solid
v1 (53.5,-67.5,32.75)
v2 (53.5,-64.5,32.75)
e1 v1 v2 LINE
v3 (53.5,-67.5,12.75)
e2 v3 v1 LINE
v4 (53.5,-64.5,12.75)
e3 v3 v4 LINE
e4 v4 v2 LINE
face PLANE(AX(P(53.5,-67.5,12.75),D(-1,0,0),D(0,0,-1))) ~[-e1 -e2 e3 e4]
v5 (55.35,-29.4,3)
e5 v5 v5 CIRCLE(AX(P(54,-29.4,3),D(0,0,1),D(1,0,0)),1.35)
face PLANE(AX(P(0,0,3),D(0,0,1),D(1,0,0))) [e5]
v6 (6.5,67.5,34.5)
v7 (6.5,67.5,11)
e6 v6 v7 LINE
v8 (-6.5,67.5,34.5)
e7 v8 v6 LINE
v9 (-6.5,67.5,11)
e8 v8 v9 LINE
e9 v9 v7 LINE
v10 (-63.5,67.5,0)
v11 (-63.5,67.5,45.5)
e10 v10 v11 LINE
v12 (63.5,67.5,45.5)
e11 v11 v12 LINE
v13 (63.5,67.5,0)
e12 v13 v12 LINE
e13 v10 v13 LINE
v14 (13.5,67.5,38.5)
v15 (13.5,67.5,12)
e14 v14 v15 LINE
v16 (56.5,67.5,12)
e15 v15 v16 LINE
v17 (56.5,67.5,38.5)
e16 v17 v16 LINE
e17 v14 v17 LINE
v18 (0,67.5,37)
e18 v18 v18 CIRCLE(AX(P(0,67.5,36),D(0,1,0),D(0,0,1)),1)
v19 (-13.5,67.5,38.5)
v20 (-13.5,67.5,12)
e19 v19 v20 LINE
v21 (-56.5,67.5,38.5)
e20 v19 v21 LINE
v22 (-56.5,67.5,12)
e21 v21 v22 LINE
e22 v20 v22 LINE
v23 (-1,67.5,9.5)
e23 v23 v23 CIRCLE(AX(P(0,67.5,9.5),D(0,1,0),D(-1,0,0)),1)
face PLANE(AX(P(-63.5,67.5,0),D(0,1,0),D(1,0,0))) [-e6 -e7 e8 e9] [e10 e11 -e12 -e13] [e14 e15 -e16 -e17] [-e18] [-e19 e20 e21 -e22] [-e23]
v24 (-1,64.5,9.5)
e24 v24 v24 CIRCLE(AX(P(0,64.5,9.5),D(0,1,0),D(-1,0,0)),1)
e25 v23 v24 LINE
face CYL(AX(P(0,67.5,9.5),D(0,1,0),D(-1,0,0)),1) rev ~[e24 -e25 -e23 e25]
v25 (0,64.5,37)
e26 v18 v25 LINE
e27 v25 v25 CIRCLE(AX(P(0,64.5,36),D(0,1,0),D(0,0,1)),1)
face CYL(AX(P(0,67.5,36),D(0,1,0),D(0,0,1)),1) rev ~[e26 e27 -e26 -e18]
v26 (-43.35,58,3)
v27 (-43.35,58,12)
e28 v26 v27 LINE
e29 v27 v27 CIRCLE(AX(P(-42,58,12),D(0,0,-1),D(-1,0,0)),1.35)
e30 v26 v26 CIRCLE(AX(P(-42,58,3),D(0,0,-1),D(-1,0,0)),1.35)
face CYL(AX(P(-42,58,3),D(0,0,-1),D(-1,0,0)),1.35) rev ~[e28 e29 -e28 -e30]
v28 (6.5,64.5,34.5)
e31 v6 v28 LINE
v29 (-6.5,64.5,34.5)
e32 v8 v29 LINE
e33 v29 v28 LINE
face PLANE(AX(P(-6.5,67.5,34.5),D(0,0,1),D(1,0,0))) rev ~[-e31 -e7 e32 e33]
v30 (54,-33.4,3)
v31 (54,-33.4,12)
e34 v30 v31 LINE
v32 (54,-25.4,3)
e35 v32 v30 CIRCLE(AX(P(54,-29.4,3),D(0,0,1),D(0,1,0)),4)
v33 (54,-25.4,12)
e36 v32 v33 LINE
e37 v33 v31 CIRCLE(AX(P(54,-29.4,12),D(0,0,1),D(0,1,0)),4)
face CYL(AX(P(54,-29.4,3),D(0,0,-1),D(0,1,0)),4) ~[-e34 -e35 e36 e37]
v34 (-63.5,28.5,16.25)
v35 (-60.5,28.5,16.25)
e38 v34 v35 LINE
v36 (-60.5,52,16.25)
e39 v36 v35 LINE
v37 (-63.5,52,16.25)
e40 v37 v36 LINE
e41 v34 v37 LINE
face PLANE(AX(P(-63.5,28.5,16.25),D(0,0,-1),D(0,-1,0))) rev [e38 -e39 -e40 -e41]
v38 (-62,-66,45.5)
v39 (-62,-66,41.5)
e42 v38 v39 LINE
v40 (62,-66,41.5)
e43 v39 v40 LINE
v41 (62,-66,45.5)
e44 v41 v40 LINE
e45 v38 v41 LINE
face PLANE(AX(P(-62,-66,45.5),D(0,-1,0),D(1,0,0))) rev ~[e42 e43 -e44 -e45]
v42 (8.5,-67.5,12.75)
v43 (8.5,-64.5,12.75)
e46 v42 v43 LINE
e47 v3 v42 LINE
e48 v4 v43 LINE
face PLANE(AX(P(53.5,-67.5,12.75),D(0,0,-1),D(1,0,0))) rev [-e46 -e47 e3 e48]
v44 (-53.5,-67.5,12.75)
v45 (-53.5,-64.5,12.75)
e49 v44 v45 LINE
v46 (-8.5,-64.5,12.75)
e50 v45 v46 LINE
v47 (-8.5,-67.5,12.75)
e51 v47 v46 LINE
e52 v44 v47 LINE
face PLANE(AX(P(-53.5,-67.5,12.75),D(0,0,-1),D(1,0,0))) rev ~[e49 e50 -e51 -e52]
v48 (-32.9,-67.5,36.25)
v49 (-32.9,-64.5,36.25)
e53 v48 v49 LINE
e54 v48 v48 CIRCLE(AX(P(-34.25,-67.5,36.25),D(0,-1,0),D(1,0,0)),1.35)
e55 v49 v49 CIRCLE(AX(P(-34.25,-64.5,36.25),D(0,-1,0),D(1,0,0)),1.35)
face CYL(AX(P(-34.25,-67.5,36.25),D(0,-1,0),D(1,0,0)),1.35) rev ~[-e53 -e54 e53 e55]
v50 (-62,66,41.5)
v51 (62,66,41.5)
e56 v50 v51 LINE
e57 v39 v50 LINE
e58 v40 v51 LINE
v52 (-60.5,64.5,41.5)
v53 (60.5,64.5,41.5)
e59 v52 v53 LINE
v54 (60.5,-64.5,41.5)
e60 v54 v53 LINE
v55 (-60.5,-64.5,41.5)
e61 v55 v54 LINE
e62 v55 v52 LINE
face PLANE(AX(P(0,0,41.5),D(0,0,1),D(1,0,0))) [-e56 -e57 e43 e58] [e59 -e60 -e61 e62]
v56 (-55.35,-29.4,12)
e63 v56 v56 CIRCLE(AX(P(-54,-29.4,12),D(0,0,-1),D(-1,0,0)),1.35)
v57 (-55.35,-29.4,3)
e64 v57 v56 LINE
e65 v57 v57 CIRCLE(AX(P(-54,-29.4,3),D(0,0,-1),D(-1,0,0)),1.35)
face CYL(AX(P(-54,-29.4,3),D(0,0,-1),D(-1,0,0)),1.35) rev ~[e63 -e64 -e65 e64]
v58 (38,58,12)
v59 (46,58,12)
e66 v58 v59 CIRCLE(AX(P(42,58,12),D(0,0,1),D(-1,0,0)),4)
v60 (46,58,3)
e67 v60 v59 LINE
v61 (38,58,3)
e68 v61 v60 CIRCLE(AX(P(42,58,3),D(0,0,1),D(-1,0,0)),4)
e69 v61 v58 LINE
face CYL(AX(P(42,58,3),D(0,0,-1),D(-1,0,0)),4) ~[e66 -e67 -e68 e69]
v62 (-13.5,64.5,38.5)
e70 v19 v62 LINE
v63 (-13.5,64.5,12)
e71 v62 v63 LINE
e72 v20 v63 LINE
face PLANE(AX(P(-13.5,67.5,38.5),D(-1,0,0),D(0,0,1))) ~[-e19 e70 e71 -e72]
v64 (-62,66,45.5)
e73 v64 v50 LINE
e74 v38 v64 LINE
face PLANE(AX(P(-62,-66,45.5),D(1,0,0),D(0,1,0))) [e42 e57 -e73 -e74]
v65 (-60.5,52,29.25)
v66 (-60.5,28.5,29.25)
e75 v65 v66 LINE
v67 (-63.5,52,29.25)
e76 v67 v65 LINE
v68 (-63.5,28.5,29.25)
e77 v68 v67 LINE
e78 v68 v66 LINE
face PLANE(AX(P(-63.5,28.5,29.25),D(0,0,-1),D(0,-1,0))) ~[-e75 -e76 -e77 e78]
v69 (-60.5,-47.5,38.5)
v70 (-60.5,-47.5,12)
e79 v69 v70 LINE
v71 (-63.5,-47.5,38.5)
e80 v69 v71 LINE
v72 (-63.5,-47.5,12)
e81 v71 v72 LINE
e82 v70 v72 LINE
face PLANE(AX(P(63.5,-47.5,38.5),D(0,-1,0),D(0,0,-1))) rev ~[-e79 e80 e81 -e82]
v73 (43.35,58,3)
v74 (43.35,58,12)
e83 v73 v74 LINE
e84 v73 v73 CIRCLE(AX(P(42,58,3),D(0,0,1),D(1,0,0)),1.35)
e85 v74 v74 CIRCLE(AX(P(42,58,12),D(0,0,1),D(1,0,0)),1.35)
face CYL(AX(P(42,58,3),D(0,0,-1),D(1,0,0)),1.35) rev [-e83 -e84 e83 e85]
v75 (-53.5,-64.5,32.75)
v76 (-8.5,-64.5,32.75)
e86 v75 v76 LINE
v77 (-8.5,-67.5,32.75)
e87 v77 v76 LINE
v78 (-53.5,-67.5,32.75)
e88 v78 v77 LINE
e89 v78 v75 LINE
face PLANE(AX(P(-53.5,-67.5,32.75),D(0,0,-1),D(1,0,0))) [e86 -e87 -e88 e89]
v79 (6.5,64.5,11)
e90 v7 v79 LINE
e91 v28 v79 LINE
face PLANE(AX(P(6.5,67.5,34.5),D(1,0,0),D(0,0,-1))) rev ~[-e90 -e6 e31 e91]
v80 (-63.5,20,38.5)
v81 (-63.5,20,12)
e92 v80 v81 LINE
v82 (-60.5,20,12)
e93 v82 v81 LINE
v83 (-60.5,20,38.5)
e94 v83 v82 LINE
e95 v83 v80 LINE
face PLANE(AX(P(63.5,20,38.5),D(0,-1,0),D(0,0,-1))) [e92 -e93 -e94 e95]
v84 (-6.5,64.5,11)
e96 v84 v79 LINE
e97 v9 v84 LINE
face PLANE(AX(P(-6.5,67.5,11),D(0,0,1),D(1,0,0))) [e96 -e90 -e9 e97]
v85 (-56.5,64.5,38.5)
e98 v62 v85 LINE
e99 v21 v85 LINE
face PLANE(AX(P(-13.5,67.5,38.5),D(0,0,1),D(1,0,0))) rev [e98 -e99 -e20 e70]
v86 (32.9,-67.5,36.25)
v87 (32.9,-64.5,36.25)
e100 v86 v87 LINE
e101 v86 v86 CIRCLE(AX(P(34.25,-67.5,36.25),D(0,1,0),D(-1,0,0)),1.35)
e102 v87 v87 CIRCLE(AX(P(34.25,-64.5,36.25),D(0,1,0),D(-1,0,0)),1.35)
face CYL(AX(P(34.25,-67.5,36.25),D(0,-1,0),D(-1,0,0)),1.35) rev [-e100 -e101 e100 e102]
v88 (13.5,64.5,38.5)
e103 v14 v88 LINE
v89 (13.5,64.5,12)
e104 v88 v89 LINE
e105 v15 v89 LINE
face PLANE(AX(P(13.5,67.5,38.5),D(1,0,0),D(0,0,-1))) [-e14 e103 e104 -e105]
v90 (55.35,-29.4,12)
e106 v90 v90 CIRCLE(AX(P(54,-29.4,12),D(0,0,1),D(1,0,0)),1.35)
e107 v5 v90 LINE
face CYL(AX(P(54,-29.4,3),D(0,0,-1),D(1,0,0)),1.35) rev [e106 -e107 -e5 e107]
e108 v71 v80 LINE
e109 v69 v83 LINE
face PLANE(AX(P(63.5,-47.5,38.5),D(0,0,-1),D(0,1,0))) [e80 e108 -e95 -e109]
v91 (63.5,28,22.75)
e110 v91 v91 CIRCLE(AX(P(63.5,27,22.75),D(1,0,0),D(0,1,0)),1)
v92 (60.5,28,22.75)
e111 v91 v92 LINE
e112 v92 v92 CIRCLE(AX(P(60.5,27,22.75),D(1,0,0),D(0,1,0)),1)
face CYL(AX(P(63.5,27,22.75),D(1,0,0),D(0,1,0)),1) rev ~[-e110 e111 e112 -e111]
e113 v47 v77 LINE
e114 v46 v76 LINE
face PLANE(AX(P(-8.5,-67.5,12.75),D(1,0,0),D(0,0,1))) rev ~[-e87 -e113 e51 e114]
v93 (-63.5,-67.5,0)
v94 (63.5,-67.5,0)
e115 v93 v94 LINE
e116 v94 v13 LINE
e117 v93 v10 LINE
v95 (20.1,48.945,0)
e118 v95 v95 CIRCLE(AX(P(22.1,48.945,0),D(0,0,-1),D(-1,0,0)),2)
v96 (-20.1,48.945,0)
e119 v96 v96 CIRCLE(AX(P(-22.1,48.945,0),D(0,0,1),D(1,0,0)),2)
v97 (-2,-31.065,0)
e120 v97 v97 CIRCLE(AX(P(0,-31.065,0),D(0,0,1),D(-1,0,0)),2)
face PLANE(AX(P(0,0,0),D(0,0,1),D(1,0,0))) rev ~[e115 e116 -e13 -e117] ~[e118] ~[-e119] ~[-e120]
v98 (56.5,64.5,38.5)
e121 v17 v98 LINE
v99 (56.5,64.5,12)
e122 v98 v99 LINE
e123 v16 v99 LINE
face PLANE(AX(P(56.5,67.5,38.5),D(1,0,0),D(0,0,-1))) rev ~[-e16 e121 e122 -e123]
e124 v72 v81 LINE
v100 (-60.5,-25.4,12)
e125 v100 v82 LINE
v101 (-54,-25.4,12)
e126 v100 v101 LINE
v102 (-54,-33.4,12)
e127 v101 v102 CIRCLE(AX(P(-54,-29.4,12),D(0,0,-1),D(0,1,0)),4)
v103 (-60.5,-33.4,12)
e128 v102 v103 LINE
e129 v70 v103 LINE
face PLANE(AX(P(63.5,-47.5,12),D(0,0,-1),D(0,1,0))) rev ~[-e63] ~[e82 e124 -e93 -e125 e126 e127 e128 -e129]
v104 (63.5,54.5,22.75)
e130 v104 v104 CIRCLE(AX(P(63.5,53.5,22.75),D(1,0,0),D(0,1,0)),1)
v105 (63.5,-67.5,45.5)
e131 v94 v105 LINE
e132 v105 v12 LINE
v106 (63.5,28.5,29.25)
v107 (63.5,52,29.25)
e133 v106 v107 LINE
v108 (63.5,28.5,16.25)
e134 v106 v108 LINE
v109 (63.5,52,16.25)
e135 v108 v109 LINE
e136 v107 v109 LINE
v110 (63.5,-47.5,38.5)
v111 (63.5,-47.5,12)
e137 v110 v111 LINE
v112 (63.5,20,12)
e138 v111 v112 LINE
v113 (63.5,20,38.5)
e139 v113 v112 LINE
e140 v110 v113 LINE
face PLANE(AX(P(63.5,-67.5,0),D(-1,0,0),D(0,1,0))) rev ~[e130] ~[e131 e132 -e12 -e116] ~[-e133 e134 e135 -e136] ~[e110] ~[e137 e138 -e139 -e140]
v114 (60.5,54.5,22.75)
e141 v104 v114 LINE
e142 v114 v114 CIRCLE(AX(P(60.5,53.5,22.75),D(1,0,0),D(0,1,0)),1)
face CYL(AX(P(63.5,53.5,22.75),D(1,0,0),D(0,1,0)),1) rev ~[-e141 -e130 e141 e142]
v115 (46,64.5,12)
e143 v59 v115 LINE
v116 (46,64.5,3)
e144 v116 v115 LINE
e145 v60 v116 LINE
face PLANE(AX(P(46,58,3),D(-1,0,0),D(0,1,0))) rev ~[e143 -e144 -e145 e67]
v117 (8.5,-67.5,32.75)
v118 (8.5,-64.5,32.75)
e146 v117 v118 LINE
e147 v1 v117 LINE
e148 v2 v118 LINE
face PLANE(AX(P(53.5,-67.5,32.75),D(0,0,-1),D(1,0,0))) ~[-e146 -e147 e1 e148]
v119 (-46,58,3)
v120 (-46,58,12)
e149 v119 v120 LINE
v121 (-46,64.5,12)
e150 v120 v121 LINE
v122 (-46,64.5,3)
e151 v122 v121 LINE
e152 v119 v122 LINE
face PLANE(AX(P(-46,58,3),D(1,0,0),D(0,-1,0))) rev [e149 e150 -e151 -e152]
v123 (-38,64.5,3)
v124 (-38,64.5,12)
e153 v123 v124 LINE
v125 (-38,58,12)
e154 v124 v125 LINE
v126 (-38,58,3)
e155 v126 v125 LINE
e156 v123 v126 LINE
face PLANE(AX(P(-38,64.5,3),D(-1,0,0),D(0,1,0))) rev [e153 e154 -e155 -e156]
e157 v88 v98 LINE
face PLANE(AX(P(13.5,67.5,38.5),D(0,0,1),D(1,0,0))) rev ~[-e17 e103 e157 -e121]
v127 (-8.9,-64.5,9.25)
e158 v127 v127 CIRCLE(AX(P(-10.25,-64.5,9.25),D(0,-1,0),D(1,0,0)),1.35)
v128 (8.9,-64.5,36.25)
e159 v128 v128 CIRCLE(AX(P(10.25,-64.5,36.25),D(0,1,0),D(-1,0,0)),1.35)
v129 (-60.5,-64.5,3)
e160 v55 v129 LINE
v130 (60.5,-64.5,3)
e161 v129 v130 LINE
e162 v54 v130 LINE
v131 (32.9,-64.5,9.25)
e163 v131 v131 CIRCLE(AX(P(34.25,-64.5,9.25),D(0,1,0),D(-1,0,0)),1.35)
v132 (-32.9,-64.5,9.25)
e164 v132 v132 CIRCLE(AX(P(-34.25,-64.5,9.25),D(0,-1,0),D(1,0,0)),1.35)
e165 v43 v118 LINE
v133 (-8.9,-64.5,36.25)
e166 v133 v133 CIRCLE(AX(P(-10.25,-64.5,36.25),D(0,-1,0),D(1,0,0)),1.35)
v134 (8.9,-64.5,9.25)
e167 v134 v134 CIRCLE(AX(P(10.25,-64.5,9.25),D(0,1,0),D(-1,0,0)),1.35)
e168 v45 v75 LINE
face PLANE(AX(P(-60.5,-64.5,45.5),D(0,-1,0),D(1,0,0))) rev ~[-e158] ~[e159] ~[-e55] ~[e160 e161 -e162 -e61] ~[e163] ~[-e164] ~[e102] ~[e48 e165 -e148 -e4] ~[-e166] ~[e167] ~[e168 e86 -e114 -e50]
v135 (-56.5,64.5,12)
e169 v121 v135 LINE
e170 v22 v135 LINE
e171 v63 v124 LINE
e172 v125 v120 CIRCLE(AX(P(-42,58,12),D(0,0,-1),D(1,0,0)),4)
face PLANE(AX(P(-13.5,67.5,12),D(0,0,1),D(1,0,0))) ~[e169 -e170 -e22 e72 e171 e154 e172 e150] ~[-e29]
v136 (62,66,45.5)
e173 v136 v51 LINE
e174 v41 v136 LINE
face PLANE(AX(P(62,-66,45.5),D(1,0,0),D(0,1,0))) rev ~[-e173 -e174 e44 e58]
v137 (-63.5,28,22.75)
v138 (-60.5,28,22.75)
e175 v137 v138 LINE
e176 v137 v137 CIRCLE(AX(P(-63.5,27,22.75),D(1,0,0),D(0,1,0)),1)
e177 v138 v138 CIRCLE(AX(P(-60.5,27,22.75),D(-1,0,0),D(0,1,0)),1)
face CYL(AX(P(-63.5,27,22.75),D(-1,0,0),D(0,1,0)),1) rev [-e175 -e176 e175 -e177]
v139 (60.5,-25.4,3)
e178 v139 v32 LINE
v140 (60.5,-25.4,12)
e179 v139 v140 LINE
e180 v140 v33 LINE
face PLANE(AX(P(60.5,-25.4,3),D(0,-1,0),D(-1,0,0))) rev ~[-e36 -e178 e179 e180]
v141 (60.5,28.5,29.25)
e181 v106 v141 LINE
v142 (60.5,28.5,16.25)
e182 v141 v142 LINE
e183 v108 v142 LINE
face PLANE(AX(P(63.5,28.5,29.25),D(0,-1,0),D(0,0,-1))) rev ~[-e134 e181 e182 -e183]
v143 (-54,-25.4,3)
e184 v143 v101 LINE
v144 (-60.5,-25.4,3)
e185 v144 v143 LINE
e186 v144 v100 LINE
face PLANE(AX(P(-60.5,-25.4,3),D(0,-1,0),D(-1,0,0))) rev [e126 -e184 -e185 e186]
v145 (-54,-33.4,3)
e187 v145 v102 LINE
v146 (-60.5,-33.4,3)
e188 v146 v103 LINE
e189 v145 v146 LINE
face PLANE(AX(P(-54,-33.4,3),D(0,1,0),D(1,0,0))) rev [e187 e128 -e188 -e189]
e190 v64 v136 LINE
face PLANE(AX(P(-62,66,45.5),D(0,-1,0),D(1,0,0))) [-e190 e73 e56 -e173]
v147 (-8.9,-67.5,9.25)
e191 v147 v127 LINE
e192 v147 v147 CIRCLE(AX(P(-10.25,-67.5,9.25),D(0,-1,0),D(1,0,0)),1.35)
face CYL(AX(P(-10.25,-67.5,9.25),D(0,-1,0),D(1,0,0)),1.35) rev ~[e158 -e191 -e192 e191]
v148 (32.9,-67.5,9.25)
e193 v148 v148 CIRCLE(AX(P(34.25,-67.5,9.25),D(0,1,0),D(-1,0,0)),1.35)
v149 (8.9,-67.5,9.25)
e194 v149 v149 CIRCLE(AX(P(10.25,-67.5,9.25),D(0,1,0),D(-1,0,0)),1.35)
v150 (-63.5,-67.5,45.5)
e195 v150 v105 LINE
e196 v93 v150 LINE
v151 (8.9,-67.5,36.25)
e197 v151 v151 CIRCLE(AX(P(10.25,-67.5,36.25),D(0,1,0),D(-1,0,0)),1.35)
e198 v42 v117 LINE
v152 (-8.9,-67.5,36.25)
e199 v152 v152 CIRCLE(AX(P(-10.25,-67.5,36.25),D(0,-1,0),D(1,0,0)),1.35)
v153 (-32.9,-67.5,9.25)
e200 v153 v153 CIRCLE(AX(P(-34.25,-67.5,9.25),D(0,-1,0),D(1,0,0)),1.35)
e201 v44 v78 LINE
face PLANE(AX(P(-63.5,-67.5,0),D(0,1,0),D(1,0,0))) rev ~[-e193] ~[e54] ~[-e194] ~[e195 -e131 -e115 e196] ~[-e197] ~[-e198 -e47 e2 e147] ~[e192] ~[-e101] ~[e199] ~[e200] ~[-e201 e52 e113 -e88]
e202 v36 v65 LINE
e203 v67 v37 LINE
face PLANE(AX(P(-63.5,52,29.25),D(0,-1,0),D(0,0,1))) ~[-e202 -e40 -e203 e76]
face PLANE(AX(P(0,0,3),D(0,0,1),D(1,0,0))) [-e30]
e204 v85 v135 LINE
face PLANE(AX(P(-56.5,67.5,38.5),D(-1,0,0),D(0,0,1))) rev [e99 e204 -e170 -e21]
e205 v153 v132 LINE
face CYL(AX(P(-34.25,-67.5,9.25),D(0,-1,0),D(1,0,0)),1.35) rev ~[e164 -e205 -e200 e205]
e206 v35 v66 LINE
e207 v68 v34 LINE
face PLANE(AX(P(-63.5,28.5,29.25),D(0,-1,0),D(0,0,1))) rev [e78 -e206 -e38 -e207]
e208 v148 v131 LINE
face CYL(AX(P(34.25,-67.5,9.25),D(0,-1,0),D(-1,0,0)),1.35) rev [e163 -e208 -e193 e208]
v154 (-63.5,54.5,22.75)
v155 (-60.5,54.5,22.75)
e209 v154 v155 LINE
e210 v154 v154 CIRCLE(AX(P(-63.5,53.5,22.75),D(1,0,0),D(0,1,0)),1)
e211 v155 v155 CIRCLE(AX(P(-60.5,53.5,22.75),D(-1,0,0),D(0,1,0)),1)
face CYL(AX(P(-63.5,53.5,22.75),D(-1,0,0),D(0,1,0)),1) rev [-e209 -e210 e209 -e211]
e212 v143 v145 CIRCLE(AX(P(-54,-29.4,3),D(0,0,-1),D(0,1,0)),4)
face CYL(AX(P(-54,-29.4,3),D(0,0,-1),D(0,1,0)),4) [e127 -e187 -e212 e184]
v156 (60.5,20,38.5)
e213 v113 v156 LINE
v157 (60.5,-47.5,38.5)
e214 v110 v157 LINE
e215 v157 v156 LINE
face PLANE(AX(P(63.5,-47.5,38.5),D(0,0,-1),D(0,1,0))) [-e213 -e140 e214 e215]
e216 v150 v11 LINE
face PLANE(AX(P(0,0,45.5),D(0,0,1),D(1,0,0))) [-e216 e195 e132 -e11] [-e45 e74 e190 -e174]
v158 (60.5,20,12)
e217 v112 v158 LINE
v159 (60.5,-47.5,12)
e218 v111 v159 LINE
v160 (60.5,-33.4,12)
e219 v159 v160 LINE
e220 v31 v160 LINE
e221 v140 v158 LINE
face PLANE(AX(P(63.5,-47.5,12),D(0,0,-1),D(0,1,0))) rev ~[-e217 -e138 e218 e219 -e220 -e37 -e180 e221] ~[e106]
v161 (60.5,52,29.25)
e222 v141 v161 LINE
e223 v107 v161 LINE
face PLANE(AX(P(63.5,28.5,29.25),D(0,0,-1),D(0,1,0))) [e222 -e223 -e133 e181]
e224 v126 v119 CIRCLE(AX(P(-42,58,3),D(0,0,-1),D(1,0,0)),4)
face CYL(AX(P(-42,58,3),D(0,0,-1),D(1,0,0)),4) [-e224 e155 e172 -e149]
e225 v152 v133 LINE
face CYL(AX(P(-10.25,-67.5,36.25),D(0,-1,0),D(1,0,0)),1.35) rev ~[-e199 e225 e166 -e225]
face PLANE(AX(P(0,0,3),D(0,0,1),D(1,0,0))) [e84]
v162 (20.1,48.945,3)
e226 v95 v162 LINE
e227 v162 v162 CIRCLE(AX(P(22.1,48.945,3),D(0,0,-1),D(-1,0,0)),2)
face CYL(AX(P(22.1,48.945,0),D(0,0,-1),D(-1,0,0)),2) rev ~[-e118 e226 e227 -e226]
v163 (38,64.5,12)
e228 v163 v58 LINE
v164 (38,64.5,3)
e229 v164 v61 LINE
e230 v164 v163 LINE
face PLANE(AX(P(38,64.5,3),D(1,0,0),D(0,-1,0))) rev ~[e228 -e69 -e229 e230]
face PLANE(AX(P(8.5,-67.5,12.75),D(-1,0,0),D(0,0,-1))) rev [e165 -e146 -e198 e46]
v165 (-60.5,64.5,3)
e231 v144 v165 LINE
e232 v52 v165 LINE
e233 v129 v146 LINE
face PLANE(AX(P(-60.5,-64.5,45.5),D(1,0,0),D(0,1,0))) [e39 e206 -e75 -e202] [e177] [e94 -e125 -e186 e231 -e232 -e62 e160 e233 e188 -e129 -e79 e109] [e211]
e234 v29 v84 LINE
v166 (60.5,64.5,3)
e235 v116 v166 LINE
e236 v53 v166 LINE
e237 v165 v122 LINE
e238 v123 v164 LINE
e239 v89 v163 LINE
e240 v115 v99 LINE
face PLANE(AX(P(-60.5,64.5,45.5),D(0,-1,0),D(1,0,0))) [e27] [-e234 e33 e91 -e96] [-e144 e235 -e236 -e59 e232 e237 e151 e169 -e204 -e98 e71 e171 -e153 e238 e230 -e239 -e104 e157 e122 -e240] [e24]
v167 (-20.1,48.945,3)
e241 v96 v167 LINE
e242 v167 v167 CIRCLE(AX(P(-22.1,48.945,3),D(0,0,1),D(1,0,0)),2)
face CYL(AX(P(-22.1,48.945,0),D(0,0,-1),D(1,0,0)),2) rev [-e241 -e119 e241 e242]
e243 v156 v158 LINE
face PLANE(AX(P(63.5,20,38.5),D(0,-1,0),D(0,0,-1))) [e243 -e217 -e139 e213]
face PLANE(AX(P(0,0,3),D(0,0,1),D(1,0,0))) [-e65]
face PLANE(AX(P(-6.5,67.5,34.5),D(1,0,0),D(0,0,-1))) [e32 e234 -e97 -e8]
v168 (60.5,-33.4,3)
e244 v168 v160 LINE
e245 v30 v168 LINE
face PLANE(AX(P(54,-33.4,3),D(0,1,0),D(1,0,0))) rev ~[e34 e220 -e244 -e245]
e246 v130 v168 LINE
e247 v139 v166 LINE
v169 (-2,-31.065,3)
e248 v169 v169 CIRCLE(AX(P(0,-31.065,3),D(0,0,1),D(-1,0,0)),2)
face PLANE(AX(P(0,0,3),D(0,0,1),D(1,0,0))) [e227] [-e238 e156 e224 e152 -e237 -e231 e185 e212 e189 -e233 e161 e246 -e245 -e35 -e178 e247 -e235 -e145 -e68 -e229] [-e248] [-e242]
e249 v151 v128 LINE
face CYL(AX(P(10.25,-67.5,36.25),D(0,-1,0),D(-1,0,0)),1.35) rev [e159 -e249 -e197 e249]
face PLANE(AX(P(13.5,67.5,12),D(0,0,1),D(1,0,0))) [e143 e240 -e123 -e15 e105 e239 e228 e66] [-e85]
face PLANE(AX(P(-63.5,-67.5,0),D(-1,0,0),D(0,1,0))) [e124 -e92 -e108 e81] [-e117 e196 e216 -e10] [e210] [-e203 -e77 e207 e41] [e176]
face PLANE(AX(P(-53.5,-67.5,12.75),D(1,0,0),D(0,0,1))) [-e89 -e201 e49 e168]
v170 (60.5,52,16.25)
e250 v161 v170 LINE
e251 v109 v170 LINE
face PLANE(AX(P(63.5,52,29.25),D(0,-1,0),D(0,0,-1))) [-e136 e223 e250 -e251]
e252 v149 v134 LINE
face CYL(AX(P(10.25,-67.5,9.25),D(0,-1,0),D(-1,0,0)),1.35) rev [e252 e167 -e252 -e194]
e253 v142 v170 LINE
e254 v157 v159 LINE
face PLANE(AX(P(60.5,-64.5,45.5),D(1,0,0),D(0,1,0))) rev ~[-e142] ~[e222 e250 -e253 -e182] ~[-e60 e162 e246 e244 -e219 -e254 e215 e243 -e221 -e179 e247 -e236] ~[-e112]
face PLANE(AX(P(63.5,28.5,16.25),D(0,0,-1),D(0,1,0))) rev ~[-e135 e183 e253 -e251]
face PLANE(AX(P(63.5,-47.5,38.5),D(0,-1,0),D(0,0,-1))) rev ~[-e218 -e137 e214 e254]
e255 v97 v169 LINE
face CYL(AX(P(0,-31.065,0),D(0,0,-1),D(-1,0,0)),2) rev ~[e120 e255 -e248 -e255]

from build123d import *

# Parameters (mm, degrees)
SKETCH1_W           = 127
SKETCH1_H           = 135
BOSS_EXTRUDE1_DEPTH = 45.5
SKETCH2_W           = 121
SKETCH2_H           = 129
CUT_EXTRUDE1_DEPTH  = 42.5
SKETCH2_3_W         = 124
SKETCH2_3_H         = 132
SKETCH2_3_W_2       = 121
SKETCH2_3_H_2       = 129
CUT_EXTRUDE2_DEPTH  = 4
SKETCH3_R           = 1.35
BOSS_EXTRUDE2_DEPTH = 9
SKETCH4_R           = 1.35
BOSS_EXTRUDE3_DEPTH = 9
SKETCH5_R           = 1
SKETCH5_W           = 13
SKETCH5_H           = 23.5
CUT_EXTRUDE5_DEPTH  = 3
SKETCH7_R           = 1
SKETCH7_W           = 13
SKETCH7_H           = 23.5
CUT_EXTRUDE6_DEPTH  = 124
SKETCH8_R           = 1.35
SKETCH8_W           = 45
SKETCH8_H           = 20
CUT_EXTRUDE7_DEPTH  = 3
SKETCH9_R           = 2
CUT_EXTRUDE8_DEPTH  = 3
CUT_EXTRUDE9_REACH  = 152.849
SKETCH10_W          = 26.5
SKETCH10_H          = 67.5
SKETCH11_W          = 43
SKETCH11_H          = 26.5
CUT_EXTRUDE10_DEPTH = 3


with BuildPart() as part:
    # Sketch1 → Boss-Extrude1 (new body)
    with BuildSketch(Plane.XY):
        Rectangle(SKETCH1_W, SKETCH1_H)
    extrude(amount=BOSS_EXTRUDE1_DEPTH)

    # Sketch2 → Cut-Extrude1 (cut)
    with BuildSketch(Plane.XY.offset(45.5)):
        Rectangle(SKETCH2_W, SKETCH2_H)
    extrude(amount=-CUT_EXTRUDE1_DEPTH, mode=Mode.SUBTRACT)

    # Sketch2<3> → Cut-Extrude2 (cut)
    with BuildSketch(Plane.XY.offset(45.5)):
        Rectangle(SKETCH2_3_W, SKETCH2_3_H)
        Rectangle(SKETCH2_3_W_2, SKETCH2_3_H_2, mode=Mode.SUBTRACT)
    extrude(amount=-CUT_EXTRUDE2_DEPTH, mode=Mode.SUBTRACT)

    # Sketch3 → Boss-Extrude2 (add)
    with BuildSketch(Plane.XY.offset(3)):
        with BuildLine():
            Line((38, 64.5), (38, 58))
            ThreePointArc((38, 58), (42, 54), (46, 58))
            Line((46, 58), (46, 64.5))
            Line((46, 64.5), (38, 64.5))
        make_face()
        with Locations((42, 58)):
            Circle(SKETCH3_R, mode=Mode.SUBTRACT)
    boss_extrude2 = extrude(amount=BOSS_EXTRUDE2_DEPTH)

    # Mirror1: Boss-Extrude2 across plane
    add(boss_extrude2.mirror(Plane(origin=(0, 0, 0), x_dir=(0, 0, 1), z_dir=(1, 0, 0))))

    # Sketch4 → Boss-Extrude3 (add)
    with BuildSketch(Plane.XY.offset(3)):
        with BuildLine():
            Line((60.5, -25.4), (54, -25.4))
            ThreePointArc((54, -25.4), (50, -29.4), (54, -33.4))
            Line((54, -33.4), (60.5, -33.4))
            Line((60.5, -33.4), (60.5, -25.4))
        make_face()
        with Locations((54, -29.4)):
            Circle(SKETCH4_R, mode=Mode.SUBTRACT)
    boss_extrude3 = extrude(amount=BOSS_EXTRUDE3_DEPTH)

    # Mirror2: Boss-Extrude3 across plane
    add(boss_extrude3.mirror(Plane(origin=(0, 0, 0), x_dir=(0, 0, 1), z_dir=(1, 0, 0))))

    # Sketch5 → Cut-Extrude5 (cut)
    with BuildSketch(Plane(origin=(0, 67.5, 0), x_dir=(1, 0, 0), z_dir=(0, 1, 0))):
        with Locations(Location((0, -9.5, 0), (0, 0, 180))):
            Circle(SKETCH5_R)
        with Locations(Location((0, -36, 0), (0, 0, 270))):
            Circle(SKETCH5_R)
        with Locations((0, -22.75)):
            Rectangle(SKETCH5_W, SKETCH5_H)
    extrude(amount=-CUT_EXTRUDE5_DEPTH, mode=Mode.SUBTRACT)

    # Sketch7 → Cut-Extrude6 (cut)
    with BuildSketch(Plane(origin=(63.5, 0, 0), x_dir=(0, 0, -1), z_dir=(1, 0, 0))):
        with Locations(Location((-22.75, 53.5, 0), (0, 0, 90))):
            Circle(SKETCH7_R)
        with Locations(Location((-22.75, 27, 0), (0, 0, 90))):
            Circle(SKETCH7_R)
        with Locations((-22.75, 40.25)):
            Rectangle(SKETCH7_W, SKETCH7_H)
    cut_extrude6 = extrude(amount=-CUT_EXTRUDE6_DEPTH, mode=Mode.SUBTRACT)

    # Mirror4: Cut-Extrude6 across plane
    add(cut_extrude6.mirror(Plane(origin=(0, 0, 0), x_dir=(0, 0, 1), z_dir=(1, 0, 0))), mode=Mode.SUBTRACT)

    # Sketch8 → Cut-Extrude7 (cut)
    with BuildSketch(Plane.XZ.offset(67.5)):
        with Locations((-10.25, 36.25)):
            Circle(SKETCH8_R)
        with Locations((-34.25, 36.25)):
            Circle(SKETCH8_R)
        with Locations((-34.25, 9.25)):
            Circle(SKETCH8_R)
        with Locations((-10.25, 9.25)):
            Circle(SKETCH8_R)
        with Locations((-31, 22.75)):
            Rectangle(SKETCH8_W, SKETCH8_H)
    cut_extrude7 = extrude(amount=-CUT_EXTRUDE7_DEPTH, mode=Mode.SUBTRACT)

    # Mirror5: Cut-Extrude7 across plane
    add(cut_extrude7.mirror(Plane(origin=(0, 0, 0), x_dir=(0, 0, 1), z_dir=(1, 0, 0))), mode=Mode.SUBTRACT)

    # Sketch9 → Cut-Extrude8 (cut)
    with BuildSketch(Plane(origin=(0, 0, 0), x_dir=(-1, 0, 0), z_dir=(0, 0, -1))):
        with Locations((-22.1, 48.945)):
            Circle(SKETCH9_R)
        with Locations((0, -31.065)):
            Circle(SKETCH9_R)
    cut_extrude8 = extrude(amount=-CUT_EXTRUDE8_DEPTH, mode=Mode.SUBTRACT)

    # Mirror6: Cut-Extrude8 across plane
    add(cut_extrude8.mirror(Plane(origin=(0, 0, 0), x_dir=(0, 0, 1), z_dir=(1, 0, 0))), mode=Mode.SUBTRACT)

    # Cut-Extrude9: up to this face of the body (flat: up to its plane)
    cut_extrude9_end = Plane(part.part.faces().sort_by_distance((-63.5, -2.152269371, 22.75))[0])
    # Sketch10 → Cut-Extrude9 (cut, up to the picked face)
    with BuildSketch(Plane(origin=(63.5, 0, 0), x_dir=(0, 0, -1), z_dir=(1, 0, 0)), mode=Mode.PRIVATE) as cut_extrude9_sk1:
        with Locations((-25.25, -13.75)):
            Rectangle(SKETCH10_W, SKETCH10_H)
    cut_extrude9_tool1 = split(extrude(cut_extrude9_sk1.sketch, amount=-CUT_EXTRUDE9_REACH, mode=Mode.PRIVATE), bisect_by=cut_extrude9_end, keep=Keep.BOTH, mode=Mode.PRIVATE)
    add(cut_extrude9_tool1.solids().sort_by(Axis((63.5, -13.75, 25.25), (-1, 0, 0)))[0], mode=Mode.SUBTRACT)

    # Sketch11 → Cut-Extrude10 (cut)
    with BuildSketch(Plane(origin=(0, 67.5, 0), x_dir=(1, 0, 0), z_dir=(0, 1, 0))):
        with Locations((35, -25.25)):
            Rectangle(SKETCH11_W, SKETCH11_H)
    cut_extrude10 = extrude(amount=-CUT_EXTRUDE10_DEPTH, mode=Mode.SUBTRACT)

    # Mirror7: Cut-Extrude10 across plane
    add(cut_extrude10.mirror(Plane(origin=(0, 0, 0), x_dir=(0, 0, 1), z_dir=(1, 0, 0))), mode=Mode.SUBTRACT)


solid = part.part
